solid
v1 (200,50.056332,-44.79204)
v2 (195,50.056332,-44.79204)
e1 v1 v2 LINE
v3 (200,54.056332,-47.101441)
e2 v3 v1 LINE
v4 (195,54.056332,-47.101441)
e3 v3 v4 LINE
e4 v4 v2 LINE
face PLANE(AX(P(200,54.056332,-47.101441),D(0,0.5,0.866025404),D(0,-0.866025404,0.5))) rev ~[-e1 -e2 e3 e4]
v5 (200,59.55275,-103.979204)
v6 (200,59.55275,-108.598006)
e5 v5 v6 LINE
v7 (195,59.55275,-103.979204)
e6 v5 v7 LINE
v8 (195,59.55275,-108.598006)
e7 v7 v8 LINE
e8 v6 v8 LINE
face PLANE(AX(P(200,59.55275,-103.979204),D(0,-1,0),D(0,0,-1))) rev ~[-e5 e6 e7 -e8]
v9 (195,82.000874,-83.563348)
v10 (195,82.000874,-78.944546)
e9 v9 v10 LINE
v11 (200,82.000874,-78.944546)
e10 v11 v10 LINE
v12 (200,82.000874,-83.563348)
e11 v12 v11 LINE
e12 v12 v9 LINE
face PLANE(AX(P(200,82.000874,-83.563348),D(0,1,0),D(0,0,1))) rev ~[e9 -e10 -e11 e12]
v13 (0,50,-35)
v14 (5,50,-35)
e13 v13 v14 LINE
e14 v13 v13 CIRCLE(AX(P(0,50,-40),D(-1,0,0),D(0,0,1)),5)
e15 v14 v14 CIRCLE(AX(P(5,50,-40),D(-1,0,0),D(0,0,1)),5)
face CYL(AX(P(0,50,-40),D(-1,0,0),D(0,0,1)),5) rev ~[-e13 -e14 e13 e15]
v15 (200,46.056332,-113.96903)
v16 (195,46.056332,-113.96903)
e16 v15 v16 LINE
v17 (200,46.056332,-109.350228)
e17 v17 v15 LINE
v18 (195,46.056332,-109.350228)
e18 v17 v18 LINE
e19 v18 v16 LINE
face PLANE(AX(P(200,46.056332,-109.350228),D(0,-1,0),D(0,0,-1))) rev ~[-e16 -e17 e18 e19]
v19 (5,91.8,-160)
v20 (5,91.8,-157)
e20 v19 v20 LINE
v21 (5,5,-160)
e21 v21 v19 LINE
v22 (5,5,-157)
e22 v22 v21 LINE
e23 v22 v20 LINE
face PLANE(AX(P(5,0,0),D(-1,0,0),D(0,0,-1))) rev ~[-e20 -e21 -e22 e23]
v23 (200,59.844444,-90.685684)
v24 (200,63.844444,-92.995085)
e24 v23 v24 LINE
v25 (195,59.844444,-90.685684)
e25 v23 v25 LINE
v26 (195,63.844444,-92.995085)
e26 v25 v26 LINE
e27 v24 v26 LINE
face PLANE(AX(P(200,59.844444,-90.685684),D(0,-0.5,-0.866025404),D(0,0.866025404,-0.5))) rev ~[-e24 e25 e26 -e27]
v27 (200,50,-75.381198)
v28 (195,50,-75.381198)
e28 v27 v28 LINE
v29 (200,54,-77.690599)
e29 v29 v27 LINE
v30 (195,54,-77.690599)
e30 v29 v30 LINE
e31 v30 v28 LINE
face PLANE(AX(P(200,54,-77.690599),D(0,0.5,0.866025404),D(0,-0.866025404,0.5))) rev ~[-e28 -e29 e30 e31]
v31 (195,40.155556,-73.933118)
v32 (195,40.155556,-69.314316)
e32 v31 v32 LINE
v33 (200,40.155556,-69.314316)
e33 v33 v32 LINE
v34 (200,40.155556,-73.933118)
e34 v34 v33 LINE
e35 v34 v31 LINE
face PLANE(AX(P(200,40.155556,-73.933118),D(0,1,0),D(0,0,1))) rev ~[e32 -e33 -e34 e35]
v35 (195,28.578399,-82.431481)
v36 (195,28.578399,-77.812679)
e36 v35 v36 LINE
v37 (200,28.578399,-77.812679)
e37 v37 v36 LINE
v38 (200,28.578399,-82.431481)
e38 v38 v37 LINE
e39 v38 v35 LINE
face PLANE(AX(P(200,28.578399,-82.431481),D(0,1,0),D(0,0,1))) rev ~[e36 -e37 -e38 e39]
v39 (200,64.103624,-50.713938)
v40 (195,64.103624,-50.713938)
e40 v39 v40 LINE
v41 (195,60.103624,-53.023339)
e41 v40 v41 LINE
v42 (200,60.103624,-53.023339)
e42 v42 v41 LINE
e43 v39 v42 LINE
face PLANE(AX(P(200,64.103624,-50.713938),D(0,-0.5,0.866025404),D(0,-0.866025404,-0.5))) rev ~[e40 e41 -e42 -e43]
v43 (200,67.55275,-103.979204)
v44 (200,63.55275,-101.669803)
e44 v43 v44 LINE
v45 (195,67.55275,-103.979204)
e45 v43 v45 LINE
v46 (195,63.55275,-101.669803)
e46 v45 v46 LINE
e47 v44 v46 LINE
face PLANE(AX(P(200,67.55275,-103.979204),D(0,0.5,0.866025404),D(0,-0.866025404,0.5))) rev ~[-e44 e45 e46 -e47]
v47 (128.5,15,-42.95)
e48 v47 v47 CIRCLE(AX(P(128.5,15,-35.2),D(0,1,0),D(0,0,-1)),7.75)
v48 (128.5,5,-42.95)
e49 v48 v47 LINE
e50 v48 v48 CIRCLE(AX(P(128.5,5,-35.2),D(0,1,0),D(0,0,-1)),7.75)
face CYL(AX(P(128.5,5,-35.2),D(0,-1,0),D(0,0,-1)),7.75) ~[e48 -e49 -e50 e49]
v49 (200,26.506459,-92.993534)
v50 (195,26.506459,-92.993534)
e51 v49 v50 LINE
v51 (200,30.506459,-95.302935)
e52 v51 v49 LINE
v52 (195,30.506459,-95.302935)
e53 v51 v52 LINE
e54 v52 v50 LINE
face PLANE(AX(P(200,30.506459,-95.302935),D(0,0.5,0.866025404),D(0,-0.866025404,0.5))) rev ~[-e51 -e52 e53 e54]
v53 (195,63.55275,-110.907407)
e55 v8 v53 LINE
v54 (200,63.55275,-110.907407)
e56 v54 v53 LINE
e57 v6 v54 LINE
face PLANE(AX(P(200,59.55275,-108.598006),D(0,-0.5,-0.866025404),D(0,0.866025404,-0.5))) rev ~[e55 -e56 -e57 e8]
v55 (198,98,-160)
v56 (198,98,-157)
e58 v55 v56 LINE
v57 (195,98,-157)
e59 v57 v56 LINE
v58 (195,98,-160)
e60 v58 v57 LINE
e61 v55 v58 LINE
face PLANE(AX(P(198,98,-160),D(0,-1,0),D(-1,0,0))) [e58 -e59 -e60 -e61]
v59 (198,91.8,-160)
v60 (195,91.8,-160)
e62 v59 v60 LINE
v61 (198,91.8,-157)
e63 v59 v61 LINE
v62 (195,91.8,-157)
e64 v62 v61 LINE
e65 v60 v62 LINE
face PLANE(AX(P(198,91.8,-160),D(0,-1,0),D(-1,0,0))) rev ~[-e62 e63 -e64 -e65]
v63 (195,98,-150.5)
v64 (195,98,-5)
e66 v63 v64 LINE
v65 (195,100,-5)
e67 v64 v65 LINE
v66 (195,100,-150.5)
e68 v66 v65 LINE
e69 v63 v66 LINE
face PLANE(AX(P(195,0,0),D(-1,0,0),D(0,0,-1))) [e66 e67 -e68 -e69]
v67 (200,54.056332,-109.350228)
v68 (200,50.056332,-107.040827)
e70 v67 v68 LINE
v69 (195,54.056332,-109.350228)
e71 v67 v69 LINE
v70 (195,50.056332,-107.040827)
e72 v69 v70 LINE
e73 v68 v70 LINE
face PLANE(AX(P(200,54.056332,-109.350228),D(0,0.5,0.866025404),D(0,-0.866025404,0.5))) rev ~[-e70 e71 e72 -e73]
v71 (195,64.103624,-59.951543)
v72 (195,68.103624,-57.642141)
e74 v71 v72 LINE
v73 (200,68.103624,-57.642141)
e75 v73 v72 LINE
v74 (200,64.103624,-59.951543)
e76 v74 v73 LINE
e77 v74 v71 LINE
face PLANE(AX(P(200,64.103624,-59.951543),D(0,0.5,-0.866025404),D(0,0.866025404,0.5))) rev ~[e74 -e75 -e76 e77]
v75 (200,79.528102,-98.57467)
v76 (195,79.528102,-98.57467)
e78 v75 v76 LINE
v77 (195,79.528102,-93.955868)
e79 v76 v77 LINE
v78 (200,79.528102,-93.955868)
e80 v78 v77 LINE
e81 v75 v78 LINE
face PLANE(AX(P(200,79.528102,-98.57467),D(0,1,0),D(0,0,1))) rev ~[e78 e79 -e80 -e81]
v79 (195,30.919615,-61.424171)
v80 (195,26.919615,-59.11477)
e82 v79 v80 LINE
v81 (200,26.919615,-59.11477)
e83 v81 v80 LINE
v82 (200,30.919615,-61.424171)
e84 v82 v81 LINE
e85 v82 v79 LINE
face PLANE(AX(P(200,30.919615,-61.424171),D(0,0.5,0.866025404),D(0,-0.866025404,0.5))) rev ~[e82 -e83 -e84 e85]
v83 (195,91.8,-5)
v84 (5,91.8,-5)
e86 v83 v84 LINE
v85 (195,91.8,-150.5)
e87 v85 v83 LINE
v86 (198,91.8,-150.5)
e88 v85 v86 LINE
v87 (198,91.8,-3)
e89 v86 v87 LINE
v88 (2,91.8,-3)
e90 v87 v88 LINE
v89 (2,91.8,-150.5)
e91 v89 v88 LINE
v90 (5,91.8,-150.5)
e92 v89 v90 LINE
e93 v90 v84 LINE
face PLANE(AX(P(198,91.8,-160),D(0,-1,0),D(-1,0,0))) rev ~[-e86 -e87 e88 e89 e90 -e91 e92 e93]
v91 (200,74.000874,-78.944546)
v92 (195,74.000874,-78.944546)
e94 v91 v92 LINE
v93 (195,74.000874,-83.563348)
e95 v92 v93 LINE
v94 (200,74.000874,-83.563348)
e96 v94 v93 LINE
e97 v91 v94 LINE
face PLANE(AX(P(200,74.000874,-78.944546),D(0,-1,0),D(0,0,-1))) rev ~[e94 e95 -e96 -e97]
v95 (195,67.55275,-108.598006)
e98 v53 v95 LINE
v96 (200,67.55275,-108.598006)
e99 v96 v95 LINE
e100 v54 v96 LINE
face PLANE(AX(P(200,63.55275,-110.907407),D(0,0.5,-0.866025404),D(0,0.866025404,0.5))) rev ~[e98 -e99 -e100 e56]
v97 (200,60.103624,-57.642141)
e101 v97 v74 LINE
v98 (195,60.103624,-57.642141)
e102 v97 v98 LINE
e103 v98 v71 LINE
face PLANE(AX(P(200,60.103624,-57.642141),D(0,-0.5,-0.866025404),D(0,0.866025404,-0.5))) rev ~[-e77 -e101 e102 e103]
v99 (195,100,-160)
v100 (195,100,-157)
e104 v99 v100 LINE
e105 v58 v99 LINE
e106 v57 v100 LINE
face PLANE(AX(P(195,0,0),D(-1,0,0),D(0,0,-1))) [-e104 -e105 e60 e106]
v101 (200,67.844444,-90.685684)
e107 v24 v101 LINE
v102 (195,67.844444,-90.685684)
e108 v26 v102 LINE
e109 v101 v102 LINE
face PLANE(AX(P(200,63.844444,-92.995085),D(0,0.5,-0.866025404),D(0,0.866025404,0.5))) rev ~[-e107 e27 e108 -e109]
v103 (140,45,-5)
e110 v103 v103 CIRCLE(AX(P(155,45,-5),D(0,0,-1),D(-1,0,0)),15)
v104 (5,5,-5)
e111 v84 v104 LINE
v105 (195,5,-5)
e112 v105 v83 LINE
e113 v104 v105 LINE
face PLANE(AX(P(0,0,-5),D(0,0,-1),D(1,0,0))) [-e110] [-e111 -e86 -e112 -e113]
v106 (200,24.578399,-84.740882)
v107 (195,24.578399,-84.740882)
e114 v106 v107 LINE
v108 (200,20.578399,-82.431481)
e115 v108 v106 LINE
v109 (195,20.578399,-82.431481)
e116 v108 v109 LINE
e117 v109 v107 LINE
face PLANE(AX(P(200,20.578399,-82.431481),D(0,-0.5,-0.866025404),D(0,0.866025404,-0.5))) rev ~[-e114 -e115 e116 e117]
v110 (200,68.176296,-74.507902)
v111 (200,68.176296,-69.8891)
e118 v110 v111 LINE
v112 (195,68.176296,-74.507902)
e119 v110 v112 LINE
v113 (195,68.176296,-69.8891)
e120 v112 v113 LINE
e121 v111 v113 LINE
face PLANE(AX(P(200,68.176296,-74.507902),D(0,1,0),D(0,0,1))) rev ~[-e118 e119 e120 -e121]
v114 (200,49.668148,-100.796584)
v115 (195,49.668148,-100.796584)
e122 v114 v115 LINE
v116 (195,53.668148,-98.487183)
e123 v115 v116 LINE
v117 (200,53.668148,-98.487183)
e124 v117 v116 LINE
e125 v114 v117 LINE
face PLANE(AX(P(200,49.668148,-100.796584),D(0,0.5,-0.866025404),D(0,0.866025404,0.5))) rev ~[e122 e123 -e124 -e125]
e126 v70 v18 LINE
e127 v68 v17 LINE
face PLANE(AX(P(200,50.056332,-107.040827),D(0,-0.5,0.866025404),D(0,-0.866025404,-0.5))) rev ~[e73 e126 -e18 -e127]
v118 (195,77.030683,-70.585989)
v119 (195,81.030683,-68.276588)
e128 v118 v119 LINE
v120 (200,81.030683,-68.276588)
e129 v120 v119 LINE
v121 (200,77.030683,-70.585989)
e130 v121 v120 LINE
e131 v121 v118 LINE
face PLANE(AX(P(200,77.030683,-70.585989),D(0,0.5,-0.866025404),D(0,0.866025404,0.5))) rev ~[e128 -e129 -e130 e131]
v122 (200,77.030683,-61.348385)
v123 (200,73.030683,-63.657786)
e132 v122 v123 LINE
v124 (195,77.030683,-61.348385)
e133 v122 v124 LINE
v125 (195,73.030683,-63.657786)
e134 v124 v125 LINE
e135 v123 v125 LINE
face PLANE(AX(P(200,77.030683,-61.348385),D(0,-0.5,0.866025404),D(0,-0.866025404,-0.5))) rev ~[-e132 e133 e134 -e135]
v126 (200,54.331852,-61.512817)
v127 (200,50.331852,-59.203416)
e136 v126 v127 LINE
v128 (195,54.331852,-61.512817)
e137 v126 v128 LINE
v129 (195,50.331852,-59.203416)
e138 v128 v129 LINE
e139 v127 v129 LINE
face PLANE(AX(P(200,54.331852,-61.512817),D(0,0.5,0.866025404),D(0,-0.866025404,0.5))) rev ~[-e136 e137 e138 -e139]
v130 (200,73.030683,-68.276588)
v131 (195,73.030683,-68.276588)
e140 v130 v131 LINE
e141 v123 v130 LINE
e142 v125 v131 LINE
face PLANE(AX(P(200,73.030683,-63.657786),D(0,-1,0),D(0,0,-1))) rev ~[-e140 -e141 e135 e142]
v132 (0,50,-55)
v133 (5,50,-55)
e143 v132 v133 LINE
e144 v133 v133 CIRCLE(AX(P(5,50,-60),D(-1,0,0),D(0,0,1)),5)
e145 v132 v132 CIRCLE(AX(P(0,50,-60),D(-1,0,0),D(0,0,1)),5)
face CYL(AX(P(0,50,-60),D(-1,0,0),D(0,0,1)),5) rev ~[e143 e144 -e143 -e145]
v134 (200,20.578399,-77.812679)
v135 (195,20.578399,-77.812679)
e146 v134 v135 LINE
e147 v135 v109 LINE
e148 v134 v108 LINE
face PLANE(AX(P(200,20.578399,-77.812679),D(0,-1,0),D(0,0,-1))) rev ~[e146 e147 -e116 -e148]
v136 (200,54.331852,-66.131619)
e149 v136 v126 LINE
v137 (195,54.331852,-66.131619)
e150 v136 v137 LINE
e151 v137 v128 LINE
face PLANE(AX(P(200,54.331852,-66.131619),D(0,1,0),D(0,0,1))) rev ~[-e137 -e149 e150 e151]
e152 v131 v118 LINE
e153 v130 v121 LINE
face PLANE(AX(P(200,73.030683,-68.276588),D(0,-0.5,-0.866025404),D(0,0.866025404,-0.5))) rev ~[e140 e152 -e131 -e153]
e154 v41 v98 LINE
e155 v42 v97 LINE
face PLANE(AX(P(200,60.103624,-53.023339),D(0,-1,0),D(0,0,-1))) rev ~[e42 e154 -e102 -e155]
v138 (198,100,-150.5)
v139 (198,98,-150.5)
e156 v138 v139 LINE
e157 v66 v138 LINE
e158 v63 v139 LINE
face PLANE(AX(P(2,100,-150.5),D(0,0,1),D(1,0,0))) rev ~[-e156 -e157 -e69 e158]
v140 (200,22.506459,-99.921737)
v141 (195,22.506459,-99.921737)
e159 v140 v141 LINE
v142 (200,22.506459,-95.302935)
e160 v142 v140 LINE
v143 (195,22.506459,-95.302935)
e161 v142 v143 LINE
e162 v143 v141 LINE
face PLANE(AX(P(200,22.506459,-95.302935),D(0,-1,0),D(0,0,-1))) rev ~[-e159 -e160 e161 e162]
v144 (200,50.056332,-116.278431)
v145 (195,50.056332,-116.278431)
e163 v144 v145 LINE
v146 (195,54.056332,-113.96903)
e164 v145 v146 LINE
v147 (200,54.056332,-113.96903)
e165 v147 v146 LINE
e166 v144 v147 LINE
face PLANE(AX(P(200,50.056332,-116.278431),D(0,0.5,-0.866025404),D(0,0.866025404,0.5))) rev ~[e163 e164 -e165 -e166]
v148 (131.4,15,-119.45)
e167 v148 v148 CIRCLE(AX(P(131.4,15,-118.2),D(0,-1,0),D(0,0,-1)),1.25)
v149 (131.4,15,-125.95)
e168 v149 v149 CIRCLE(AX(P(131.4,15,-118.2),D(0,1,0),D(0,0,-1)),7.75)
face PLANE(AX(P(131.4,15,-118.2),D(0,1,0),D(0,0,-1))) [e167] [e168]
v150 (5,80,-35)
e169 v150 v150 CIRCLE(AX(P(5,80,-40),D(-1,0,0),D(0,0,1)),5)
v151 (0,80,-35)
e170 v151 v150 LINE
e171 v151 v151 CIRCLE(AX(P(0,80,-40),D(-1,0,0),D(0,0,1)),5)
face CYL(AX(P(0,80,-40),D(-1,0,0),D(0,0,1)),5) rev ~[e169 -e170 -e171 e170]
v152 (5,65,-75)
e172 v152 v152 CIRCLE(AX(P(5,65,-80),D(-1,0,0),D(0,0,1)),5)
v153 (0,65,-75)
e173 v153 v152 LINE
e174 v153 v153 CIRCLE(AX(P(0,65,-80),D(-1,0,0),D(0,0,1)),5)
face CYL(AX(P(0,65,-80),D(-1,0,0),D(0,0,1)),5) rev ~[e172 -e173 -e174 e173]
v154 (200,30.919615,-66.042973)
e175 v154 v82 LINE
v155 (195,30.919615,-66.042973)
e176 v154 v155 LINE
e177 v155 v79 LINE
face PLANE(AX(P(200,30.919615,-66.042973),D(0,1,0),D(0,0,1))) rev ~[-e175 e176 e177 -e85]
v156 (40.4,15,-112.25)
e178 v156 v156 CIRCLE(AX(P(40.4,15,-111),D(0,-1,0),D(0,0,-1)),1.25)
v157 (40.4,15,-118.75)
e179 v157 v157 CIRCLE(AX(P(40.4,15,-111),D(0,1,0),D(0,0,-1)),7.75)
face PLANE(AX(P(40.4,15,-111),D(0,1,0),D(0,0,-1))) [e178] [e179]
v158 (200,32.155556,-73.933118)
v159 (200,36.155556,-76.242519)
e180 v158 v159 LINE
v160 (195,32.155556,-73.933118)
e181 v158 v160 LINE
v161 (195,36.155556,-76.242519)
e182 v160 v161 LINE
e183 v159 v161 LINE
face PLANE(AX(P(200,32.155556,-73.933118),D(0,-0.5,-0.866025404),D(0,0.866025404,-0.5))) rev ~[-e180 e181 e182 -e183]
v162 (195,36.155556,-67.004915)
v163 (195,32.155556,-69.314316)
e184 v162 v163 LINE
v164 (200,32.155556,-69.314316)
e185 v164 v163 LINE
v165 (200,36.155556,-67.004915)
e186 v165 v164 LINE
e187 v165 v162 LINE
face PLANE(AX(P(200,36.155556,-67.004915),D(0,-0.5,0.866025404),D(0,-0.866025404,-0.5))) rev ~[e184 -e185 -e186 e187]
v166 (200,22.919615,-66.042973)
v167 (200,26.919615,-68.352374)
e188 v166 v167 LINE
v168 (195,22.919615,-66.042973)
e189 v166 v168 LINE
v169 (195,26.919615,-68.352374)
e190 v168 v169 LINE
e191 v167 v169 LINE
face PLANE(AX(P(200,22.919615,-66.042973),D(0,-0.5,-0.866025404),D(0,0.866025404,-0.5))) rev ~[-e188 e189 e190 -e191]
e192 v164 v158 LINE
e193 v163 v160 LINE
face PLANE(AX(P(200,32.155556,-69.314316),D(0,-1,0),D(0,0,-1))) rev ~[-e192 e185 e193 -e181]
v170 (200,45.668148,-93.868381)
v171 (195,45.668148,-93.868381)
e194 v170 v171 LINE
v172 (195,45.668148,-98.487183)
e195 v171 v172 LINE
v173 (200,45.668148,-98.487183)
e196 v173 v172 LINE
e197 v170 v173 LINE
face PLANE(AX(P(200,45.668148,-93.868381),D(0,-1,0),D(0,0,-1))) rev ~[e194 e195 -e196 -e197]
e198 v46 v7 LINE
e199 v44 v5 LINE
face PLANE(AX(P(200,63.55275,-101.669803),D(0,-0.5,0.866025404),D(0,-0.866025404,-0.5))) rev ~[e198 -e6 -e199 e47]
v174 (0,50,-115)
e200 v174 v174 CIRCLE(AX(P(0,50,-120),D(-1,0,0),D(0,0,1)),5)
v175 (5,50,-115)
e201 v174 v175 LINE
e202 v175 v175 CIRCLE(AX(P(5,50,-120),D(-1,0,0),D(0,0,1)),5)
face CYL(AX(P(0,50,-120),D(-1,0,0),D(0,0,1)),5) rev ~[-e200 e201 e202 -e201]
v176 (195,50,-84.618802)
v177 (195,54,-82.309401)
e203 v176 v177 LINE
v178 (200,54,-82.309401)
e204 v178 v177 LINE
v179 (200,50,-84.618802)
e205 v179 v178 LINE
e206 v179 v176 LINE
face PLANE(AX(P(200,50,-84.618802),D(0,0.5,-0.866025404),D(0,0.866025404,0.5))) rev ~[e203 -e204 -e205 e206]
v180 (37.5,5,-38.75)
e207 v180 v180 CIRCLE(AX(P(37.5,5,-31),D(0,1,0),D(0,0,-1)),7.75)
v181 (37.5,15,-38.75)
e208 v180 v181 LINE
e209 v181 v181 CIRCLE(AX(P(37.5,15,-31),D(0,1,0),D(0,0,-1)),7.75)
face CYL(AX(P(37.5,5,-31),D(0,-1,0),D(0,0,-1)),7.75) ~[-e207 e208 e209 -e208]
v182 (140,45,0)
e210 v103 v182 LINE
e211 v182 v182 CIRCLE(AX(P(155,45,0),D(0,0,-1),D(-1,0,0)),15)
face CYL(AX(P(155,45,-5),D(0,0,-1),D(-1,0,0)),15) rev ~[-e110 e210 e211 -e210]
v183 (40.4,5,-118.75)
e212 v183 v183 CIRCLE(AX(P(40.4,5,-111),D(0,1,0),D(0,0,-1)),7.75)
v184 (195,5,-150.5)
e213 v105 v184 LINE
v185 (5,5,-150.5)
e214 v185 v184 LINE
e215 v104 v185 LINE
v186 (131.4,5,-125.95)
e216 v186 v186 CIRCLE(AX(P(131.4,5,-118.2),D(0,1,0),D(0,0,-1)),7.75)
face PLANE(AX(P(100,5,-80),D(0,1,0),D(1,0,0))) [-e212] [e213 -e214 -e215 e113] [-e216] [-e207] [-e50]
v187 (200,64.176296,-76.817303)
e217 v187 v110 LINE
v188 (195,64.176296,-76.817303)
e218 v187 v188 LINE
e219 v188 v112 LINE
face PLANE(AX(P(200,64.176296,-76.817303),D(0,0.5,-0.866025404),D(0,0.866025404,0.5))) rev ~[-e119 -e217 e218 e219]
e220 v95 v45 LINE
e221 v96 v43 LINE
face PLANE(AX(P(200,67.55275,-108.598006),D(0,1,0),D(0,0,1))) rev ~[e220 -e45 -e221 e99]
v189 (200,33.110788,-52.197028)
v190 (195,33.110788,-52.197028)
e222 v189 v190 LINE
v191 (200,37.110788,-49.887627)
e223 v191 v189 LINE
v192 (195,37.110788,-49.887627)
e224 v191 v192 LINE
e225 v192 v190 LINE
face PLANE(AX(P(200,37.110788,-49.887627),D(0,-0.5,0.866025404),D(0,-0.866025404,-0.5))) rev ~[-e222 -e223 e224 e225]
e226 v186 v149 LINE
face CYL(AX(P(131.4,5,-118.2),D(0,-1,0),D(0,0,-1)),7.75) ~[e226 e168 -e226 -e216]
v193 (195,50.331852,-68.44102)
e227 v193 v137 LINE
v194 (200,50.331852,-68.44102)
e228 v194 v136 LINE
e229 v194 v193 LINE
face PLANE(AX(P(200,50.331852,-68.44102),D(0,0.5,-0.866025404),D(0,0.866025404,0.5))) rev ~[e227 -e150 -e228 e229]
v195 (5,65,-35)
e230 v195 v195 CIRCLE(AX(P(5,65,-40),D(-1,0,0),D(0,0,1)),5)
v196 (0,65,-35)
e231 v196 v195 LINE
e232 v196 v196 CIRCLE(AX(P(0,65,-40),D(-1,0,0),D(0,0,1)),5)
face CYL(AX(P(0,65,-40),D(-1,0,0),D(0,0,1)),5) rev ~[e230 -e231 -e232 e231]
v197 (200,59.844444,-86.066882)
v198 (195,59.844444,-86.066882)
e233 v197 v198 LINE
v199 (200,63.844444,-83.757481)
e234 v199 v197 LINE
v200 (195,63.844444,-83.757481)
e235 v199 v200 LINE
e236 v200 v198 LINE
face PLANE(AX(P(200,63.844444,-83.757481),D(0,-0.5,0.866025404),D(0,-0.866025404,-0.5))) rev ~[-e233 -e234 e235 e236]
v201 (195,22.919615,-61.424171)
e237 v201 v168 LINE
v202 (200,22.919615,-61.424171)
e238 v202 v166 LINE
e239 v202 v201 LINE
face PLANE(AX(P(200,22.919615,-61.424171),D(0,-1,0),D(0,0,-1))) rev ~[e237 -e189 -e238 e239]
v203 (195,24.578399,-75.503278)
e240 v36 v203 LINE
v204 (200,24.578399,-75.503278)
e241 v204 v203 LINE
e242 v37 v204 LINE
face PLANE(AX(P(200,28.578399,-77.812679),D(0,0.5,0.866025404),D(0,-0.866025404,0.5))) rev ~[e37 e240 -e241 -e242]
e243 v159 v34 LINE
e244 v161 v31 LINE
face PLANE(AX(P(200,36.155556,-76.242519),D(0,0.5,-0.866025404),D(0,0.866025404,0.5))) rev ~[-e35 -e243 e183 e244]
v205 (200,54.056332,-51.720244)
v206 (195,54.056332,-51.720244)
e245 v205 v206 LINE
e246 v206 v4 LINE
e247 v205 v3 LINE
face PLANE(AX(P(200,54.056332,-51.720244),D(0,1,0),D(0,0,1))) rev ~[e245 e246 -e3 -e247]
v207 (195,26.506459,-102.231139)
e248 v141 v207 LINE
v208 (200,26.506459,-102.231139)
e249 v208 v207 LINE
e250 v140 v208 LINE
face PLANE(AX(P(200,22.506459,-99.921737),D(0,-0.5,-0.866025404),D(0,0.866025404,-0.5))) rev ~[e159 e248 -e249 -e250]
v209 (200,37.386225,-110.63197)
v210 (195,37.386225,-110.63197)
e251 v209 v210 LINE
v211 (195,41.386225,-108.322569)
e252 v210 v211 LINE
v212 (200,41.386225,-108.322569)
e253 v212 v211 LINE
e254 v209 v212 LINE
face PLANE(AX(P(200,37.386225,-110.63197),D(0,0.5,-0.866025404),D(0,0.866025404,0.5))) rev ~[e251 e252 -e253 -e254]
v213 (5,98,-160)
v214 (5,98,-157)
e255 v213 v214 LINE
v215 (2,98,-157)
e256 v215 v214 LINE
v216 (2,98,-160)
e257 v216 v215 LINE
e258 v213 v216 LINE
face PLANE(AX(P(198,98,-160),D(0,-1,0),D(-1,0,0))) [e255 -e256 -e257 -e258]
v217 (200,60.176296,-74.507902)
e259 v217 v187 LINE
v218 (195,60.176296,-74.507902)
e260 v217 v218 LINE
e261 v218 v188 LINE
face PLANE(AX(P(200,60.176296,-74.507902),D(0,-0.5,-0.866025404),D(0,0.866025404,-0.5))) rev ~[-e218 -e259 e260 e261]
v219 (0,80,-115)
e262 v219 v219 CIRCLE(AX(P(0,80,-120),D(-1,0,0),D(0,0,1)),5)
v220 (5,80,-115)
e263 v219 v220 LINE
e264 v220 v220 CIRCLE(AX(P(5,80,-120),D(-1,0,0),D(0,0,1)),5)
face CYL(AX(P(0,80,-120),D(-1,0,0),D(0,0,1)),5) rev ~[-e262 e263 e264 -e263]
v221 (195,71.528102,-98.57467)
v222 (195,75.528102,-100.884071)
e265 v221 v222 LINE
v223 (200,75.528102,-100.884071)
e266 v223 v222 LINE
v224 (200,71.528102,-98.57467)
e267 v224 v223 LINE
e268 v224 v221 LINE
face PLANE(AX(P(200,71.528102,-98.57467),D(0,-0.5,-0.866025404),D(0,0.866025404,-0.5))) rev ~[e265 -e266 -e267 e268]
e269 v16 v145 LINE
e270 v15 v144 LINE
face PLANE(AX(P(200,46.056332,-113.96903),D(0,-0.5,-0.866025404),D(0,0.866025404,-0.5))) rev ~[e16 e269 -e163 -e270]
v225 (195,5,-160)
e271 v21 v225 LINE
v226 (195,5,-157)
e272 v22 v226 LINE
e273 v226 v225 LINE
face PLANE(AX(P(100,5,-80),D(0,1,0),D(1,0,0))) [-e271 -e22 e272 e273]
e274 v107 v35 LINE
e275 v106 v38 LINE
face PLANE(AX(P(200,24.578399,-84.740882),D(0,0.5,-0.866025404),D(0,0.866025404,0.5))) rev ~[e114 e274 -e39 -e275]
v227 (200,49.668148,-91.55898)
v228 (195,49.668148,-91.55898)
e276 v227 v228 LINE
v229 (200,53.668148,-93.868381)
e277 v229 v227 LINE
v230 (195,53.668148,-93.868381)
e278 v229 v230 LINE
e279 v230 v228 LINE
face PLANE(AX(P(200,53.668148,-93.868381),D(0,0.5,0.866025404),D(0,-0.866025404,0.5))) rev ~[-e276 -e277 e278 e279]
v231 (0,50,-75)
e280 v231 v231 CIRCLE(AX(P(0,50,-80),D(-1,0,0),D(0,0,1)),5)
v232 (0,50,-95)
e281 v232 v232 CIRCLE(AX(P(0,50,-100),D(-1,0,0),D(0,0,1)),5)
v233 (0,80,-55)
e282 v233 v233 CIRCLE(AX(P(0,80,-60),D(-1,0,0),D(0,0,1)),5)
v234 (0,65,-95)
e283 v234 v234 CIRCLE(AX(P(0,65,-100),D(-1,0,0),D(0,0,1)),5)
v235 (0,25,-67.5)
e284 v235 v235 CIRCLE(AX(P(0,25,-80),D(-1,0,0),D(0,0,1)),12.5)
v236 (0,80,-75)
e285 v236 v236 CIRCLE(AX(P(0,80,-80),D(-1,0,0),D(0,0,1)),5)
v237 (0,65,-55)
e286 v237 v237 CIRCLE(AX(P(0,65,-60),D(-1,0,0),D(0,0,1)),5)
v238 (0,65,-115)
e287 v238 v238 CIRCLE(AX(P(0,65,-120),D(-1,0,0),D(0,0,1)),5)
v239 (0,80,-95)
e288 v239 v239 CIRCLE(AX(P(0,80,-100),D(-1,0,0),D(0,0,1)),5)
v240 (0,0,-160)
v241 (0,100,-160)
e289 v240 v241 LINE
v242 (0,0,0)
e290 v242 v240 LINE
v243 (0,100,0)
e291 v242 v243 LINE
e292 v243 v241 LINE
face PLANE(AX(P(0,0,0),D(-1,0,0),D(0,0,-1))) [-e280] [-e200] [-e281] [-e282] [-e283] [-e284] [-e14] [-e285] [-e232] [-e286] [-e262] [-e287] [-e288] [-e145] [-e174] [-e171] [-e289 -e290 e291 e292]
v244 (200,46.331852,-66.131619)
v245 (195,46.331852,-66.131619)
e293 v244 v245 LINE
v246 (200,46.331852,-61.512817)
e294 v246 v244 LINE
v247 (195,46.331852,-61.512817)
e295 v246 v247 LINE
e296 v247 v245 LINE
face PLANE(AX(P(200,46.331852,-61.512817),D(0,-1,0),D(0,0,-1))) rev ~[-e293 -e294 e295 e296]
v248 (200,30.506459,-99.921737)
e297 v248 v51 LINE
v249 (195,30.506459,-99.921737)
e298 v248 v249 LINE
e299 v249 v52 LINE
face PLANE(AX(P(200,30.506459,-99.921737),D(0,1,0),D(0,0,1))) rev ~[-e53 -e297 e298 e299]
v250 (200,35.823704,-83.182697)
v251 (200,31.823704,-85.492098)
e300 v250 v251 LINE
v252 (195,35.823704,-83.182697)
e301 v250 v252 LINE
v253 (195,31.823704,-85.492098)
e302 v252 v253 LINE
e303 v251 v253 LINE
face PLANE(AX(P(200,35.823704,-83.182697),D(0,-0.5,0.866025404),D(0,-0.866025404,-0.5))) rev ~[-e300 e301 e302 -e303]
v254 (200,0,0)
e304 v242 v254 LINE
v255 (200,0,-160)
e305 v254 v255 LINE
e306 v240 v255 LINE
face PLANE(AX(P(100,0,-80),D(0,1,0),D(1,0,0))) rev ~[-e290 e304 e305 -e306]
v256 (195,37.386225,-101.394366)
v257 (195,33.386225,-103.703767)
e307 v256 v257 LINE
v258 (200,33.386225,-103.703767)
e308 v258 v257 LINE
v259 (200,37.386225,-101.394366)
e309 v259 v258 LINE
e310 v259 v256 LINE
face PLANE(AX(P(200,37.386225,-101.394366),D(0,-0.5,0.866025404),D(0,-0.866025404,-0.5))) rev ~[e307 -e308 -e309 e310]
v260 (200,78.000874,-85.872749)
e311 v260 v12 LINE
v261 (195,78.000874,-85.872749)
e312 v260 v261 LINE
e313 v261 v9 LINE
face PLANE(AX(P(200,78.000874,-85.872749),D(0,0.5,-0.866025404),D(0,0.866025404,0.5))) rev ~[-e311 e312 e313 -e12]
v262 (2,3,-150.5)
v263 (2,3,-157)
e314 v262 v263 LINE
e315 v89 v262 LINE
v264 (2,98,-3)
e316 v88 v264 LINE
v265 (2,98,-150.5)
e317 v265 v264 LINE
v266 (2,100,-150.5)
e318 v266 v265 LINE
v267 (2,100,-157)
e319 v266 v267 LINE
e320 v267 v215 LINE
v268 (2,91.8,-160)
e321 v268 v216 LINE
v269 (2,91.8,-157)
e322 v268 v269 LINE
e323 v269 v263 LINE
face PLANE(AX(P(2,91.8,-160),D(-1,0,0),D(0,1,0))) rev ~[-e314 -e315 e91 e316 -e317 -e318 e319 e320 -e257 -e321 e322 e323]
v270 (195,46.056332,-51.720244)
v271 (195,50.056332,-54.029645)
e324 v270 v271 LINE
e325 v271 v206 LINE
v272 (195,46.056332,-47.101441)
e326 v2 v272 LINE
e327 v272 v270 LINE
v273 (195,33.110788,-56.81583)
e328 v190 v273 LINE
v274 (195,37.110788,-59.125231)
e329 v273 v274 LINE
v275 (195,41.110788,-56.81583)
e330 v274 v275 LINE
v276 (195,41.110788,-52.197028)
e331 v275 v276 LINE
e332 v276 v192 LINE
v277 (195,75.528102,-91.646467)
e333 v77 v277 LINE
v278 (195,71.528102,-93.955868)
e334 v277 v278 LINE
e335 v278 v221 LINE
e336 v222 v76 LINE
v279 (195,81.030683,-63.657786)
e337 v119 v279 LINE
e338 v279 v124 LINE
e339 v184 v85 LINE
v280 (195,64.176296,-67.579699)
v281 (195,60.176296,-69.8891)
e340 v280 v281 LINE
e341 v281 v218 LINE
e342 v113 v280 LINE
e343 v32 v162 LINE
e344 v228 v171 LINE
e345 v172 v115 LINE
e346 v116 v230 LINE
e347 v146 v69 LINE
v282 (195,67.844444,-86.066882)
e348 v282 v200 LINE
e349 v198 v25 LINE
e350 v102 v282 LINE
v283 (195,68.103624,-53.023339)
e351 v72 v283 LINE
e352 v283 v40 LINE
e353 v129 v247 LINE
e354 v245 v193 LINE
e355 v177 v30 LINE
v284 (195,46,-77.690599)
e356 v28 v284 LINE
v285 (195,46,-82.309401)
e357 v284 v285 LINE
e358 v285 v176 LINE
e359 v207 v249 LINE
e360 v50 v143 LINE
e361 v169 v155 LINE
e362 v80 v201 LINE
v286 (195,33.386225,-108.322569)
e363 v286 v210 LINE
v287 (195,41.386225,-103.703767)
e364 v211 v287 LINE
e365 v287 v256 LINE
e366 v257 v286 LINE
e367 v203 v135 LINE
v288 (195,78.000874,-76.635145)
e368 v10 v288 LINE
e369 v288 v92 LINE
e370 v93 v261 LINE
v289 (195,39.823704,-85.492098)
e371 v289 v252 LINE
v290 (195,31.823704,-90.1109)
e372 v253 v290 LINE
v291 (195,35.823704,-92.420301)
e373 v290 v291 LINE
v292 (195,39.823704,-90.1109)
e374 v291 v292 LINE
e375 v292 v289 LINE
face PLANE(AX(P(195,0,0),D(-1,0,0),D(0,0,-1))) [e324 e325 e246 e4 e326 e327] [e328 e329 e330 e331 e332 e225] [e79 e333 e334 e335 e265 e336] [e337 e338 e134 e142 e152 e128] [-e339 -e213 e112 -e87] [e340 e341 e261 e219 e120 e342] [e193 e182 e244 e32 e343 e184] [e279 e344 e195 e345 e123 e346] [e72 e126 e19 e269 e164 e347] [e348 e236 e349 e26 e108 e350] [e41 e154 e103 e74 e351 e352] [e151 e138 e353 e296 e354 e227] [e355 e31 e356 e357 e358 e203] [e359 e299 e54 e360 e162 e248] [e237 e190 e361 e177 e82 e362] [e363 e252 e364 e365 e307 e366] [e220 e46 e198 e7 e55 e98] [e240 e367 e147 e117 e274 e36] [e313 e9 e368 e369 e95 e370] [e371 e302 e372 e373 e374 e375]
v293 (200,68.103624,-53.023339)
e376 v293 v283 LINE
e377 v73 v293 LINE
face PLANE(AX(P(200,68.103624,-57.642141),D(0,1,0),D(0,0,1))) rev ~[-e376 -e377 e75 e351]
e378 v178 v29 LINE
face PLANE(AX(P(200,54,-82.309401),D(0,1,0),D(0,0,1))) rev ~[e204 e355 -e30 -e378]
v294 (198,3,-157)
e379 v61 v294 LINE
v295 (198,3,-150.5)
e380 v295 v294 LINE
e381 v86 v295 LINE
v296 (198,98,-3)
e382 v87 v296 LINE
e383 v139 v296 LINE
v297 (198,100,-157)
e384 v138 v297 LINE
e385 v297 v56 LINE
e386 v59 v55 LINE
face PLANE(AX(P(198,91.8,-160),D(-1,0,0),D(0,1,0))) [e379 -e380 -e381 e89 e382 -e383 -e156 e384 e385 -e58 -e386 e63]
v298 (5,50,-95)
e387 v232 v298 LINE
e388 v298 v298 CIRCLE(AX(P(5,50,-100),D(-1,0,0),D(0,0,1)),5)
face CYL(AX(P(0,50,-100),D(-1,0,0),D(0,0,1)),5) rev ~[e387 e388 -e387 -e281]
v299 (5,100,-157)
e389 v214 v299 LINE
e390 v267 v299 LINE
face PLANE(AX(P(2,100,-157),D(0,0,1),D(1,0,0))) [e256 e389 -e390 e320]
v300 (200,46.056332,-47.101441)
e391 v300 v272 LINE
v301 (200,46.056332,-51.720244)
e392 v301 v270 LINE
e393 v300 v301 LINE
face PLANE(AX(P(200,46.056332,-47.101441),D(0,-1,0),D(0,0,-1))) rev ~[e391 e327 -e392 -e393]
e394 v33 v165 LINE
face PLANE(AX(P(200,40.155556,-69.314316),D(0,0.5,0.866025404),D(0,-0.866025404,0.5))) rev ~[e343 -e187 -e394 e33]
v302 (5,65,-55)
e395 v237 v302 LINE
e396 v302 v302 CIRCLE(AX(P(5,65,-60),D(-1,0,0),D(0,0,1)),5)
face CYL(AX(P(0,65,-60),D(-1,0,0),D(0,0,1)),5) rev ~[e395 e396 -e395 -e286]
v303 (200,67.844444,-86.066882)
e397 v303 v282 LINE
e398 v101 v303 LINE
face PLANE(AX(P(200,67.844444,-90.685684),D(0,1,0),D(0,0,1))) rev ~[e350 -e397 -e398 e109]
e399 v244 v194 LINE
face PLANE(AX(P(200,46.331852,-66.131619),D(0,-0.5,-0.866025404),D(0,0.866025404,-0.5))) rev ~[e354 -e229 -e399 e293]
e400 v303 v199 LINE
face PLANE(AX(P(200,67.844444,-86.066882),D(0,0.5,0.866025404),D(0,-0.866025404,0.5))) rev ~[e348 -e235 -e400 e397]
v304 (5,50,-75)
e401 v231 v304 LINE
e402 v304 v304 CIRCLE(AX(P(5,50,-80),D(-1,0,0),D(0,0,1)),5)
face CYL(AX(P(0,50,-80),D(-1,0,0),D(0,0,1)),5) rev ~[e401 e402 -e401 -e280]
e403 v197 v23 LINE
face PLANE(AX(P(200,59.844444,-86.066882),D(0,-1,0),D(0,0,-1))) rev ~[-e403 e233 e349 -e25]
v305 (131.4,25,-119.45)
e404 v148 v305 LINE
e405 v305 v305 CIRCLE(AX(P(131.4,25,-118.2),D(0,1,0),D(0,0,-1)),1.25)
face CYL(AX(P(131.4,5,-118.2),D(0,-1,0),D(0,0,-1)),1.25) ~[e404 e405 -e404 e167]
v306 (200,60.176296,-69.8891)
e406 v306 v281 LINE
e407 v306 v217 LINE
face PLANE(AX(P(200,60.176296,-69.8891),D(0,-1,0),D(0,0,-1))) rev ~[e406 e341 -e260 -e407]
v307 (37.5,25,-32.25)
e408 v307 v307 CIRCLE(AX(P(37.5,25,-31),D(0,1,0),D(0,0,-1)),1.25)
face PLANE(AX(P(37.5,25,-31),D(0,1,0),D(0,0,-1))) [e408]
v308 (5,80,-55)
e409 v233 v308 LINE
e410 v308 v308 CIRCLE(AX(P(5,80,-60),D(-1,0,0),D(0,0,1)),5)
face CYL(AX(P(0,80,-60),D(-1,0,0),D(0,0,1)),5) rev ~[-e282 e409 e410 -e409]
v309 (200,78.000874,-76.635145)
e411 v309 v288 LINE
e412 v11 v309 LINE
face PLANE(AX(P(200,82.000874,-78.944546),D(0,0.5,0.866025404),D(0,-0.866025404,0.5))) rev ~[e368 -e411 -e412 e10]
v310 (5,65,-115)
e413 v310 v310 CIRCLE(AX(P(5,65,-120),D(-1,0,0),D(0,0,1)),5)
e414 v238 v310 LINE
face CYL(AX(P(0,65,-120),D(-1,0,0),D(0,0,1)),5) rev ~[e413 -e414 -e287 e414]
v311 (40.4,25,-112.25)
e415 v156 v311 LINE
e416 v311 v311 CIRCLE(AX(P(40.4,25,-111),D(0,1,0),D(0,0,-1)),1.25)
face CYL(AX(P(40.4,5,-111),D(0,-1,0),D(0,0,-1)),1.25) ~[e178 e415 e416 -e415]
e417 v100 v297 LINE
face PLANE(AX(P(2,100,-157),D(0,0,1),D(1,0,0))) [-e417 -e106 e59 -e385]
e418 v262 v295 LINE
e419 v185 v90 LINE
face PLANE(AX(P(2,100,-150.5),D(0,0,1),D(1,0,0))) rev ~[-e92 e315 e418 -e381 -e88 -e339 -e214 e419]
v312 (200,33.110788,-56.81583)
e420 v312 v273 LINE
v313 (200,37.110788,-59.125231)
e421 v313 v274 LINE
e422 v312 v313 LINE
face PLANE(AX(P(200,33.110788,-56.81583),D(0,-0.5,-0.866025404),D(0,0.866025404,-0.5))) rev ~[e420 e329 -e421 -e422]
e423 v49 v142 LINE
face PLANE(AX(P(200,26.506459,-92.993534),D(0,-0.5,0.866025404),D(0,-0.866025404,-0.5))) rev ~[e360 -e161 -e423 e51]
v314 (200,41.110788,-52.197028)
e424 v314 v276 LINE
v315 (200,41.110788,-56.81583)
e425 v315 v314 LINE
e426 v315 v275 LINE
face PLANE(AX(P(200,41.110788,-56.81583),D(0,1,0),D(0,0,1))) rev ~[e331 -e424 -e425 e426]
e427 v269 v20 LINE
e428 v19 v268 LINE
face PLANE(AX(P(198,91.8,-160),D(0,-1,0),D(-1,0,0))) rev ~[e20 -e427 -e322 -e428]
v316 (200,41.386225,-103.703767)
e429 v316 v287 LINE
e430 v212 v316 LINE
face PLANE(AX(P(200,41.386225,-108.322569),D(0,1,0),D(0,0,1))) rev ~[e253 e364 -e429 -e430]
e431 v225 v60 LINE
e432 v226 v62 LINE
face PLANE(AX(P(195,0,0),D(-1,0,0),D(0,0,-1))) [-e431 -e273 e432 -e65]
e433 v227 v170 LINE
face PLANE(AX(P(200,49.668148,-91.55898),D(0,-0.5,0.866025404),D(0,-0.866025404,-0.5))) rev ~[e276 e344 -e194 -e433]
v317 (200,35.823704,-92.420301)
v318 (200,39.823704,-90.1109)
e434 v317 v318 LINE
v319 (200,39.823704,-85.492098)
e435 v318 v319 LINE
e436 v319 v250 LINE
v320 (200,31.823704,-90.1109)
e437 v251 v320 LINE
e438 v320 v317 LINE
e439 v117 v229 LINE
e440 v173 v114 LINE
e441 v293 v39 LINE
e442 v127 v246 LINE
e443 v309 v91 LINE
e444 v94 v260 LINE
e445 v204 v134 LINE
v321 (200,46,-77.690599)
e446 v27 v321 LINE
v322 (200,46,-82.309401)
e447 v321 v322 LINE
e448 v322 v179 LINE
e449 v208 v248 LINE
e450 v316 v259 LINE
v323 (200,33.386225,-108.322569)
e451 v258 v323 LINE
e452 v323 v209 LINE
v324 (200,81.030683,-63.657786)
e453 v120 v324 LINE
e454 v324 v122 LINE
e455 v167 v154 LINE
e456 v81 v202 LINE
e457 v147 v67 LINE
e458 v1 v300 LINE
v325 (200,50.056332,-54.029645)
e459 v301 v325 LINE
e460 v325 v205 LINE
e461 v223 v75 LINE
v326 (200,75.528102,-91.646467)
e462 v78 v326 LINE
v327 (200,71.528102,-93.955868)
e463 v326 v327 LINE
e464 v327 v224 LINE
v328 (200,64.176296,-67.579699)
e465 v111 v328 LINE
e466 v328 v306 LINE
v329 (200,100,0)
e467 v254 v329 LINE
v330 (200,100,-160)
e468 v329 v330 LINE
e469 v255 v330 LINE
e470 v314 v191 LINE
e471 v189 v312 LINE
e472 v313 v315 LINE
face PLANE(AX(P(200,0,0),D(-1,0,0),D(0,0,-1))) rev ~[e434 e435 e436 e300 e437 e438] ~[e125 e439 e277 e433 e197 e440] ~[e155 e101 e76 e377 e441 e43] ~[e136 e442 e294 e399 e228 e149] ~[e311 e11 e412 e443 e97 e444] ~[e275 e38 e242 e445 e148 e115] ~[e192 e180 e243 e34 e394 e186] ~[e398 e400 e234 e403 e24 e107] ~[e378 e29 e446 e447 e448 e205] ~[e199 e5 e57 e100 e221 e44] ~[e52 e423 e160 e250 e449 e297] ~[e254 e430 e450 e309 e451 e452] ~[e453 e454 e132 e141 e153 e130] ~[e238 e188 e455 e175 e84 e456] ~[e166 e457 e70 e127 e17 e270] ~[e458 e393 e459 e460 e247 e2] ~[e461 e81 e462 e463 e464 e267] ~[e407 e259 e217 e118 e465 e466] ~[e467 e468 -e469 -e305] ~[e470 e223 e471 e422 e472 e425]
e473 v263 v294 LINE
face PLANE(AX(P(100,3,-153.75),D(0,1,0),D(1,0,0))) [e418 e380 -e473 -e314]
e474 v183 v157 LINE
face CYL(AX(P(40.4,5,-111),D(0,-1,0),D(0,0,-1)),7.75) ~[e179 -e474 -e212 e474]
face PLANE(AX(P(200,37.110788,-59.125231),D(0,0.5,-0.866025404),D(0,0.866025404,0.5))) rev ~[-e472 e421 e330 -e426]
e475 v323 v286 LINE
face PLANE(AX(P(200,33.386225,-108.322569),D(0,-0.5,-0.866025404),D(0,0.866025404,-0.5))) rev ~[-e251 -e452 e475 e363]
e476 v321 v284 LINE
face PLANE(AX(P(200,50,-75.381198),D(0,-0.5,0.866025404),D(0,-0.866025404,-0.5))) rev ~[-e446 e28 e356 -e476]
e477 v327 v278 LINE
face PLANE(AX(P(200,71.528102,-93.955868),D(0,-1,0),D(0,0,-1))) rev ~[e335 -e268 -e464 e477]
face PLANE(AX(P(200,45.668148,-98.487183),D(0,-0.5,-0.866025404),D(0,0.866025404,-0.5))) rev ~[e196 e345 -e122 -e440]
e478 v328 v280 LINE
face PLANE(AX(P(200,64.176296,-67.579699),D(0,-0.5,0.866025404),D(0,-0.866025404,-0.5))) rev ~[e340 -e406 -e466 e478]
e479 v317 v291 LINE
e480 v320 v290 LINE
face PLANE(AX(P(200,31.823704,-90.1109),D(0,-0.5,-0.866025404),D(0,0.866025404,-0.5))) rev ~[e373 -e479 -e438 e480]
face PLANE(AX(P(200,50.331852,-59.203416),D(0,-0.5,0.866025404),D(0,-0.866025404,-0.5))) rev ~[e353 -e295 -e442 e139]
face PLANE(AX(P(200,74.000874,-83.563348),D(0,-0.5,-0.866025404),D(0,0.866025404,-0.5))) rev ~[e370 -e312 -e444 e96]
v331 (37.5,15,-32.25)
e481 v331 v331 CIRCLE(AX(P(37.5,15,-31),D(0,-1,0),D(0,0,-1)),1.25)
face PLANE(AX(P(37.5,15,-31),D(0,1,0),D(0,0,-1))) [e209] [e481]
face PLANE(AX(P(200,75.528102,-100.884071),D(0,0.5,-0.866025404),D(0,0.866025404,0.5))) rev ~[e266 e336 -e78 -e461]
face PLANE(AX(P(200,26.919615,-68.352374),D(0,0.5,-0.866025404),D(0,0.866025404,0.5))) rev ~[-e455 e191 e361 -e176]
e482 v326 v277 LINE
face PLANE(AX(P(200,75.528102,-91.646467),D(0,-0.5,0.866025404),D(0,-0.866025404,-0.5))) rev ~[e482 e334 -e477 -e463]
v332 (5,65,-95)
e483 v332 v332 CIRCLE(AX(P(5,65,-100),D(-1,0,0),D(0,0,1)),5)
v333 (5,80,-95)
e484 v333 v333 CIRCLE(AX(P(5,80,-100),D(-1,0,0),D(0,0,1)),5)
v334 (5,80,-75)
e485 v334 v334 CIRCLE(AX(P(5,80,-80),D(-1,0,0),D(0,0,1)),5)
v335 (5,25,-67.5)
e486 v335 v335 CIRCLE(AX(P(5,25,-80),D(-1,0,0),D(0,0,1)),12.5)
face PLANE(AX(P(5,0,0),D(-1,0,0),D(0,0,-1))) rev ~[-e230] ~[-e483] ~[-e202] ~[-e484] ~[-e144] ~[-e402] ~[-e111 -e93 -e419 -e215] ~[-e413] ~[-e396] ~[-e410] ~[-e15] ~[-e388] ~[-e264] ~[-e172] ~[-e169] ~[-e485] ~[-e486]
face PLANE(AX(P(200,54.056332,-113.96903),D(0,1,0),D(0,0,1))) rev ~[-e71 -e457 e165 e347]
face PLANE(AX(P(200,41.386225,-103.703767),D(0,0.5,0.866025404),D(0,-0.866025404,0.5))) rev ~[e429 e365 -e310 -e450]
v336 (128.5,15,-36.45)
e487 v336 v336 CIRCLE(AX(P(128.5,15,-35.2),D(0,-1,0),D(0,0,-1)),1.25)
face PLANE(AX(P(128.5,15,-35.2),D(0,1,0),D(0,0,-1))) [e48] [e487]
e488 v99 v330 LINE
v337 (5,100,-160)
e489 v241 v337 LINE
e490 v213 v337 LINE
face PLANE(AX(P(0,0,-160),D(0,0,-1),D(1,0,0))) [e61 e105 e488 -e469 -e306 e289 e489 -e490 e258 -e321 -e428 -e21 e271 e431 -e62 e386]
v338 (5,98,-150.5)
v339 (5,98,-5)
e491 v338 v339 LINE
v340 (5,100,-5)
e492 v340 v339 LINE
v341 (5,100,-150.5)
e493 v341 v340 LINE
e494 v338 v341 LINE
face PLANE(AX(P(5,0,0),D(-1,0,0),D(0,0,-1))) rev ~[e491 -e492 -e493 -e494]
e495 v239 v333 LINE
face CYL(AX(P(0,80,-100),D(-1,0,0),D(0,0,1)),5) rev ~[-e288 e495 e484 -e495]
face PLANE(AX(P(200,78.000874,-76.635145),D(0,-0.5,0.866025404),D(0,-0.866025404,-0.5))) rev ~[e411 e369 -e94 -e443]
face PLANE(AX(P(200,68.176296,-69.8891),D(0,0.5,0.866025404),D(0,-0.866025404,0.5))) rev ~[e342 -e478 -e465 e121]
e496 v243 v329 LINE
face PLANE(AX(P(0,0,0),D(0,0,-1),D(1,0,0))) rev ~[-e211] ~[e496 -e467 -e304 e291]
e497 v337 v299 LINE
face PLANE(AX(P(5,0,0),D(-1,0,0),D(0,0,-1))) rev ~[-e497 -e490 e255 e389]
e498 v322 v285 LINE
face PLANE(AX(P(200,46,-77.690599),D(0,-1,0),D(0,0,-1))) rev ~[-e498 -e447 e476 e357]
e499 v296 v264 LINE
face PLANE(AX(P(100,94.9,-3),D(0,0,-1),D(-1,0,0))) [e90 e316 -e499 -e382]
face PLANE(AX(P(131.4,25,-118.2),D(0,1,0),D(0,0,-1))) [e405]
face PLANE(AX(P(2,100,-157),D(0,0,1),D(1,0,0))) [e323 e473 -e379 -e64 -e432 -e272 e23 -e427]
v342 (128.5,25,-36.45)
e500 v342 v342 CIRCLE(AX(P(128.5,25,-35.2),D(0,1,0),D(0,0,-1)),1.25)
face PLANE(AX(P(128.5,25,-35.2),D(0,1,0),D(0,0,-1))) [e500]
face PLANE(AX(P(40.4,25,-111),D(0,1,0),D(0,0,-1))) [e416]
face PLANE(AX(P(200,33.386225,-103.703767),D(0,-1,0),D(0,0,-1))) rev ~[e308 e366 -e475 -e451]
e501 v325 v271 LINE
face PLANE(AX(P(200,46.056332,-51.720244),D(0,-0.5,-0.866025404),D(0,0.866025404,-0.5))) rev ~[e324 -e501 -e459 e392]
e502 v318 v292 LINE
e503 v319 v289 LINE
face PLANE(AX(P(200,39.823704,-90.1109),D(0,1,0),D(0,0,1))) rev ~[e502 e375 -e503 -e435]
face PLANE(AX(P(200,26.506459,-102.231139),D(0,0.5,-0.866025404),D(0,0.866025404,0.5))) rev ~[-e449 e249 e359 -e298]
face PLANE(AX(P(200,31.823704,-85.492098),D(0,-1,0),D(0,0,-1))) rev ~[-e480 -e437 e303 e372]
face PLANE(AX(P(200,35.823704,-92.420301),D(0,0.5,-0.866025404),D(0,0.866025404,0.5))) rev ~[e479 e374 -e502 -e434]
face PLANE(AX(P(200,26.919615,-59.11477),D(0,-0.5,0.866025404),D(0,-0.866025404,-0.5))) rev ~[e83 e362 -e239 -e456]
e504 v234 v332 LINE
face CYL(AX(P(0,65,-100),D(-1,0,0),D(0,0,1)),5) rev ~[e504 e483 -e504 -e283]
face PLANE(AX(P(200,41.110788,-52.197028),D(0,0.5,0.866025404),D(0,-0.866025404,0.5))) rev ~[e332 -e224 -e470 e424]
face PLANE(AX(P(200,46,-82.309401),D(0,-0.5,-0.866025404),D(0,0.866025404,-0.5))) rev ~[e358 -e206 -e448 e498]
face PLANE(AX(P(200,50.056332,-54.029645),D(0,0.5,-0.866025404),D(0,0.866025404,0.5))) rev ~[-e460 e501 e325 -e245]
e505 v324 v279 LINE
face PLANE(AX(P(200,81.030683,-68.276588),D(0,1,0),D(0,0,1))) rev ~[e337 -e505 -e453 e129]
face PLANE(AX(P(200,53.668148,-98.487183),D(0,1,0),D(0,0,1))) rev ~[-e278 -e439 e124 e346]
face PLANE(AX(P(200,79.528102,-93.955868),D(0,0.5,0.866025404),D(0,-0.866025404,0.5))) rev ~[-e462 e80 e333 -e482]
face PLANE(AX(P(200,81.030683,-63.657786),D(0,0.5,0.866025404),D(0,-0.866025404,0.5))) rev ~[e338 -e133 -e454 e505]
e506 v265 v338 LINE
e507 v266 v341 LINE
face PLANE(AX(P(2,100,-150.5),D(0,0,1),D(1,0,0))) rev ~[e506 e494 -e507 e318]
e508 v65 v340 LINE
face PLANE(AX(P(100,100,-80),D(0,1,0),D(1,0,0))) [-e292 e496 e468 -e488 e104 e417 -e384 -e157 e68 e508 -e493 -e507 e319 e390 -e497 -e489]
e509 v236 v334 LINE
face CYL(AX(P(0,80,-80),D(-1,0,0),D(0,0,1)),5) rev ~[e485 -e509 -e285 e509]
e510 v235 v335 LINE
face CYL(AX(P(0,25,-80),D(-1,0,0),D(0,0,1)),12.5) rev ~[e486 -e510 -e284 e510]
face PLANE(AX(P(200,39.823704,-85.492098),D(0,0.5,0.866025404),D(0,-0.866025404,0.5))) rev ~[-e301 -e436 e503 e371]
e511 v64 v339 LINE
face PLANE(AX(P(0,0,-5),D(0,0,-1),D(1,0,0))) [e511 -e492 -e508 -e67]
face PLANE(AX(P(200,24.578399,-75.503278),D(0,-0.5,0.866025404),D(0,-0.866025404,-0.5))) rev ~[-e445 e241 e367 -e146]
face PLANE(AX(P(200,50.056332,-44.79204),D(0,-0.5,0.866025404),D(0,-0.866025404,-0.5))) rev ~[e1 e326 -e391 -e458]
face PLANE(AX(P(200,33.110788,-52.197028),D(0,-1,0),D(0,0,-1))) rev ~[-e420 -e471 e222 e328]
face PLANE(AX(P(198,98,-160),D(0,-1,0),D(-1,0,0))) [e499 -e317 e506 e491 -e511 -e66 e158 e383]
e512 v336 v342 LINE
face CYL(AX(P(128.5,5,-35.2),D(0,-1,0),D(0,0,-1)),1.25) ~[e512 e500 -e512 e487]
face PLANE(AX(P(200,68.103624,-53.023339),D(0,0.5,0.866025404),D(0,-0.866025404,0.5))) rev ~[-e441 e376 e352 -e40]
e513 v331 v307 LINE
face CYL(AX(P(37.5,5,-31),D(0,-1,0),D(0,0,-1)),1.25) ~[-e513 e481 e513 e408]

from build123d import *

# Parameters (mm, degrees)
SKETCH1_W           = 200
SKETCH1_H           = 160
BOSS_EXTRUDE1_DEPTH = 100
SHELL2_T            = -5
SKETCH2_W           = 196
SKETCH2_H           = 6.5
CUT_EXTRUDE1_DEPTH  = 97
SKETCH3_W           = 196
SKETCH3_H           = 6.2
CUT_EXTRUDE2_DEPTH  = 157
SKETCH4_R           = 15
CUT_EXTRUDE3_DEPTH  = 273.075357208
CUT_EXTRUDE4_DEPTH  = 5
SKETCH6_R           = 1.25
BOSS_EXTRUDE2_DEPTH = 20
SKETCH7_R           = 7.75
SKETCH7_R_2         = 1.25
BOSS_EXTRUDE3_DEPTH = 10
SKETCH8_R           = 12.5
SKETCH8_R_2         = 5
CUT_EXTRUDE5_DEPTH  = 5


with BuildPart() as part:
    # Sketch1 → Boss-Extrude1 (new body)
    with BuildSketch(Plane(origin=(0, 0, 0), x_dir=(1, 0, 0), z_dir=(0, 1, 0))):
        with Locations((100, 80)):
            Rectangle(SKETCH1_W, SKETCH1_H)
    extrude(amount=BOSS_EXTRUDE1_DEPTH)

    # Shell2
    shell2_openings = [part.faces().sort_by_distance(p)[0] for p in [
        (100, 100, -80),
        (100, 50, -160),
    ]]
    offset(amount=SHELL2_T, openings=shell2_openings, kind=Kind.INTERSECTION)

    # Sketch2 → Cut-Extrude1 (cut)
    with BuildSketch(Plane(origin=(0, 100, 0), x_dir=(1, 0, 0), z_dir=(0, 1, 0))):
        with Locations((100, 153.75)):
            Rectangle(SKETCH2_W, SKETCH2_H)
    extrude(amount=-CUT_EXTRUDE1_DEPTH, mode=Mode.SUBTRACT)

    # Sketch3 → Cut-Extrude2 (cut)
    with BuildSketch(Plane(origin=(0, 0, -160), x_dir=(-1, 0, 0), z_dir=(0, 0, -1))):
        with Locations((-100, 94.9)):
            Rectangle(SKETCH3_W, SKETCH3_H)
    extrude(amount=-CUT_EXTRUDE2_DEPTH, mode=Mode.SUBTRACT)

    # Sketch4 → Cut-Extrude3 (cut, through all)
    with BuildSketch(Plane(origin=(0, 0, -5), x_dir=(-1, 0, 0), z_dir=(0, 0, -1))):
        with Locations((-155, 45)):
            Circle(SKETCH4_R)
    extrude(amount=-CUT_EXTRUDE3_DEPTH, mode=Mode.SUBTRACT)

    # Sketch5 → Cut-Extrude4 (cut)
    with BuildSketch(Plane(origin=(200, 0, 0), x_dir=(0, 0, -1), z_dir=(1, 0, 0))):
        Polygon((68.441020245, 50.331851937), (66.131619168, 54.331851937), (61.512817015, 54.331851937), (59.203415938, 50.331851937), (61.512817015, 46.331851937), (66.131619168, 46.331851937), align=None)
        Polygon((84.618802154, 50), (82.309401077, 54), (77.690598923, 54), (75.381197846, 50), (77.690598923, 46), (82.309401077, 46), align=None)
        Polygon((74.50790233, 60.176296078), (76.817303407, 64.176296078), (74.50790233, 68.176296078), (69.889100176, 68.176296078), (67.5796991, 64.176296078), (69.889100176, 60.176296078), align=None)
        Polygon((86.066882085, 59.844444141), (90.685684238, 59.844444141), (92.995085315, 63.844444141), (90.685684238, 67.844444141), (86.066882085, 67.844444141), (83.757481008, 63.844444141), align=None)
        Polygon((91.558979755, 49.668148063), (93.868380832, 45.668148063), (98.487182985, 45.668148063), (100.796584062, 49.668148063), (98.487182985, 53.668148063), (93.868380832, 53.668148063), align=None)
        Polygon((85.49209767, 39.823703922), (83.182696593, 35.823703922), (85.49209767, 31.823703922), (90.110899824, 31.823703922), (92.4203009, 35.823703922), (90.110899824, 39.823703922), align=None)
        Polygon((73.933117915, 40.155555859), (69.314315762, 40.155555859), (67.004914685, 36.155555859), (69.314315762, 32.155555859), (73.933117915, 32.155555859), (76.242518992, 36.155555859), align=None)
        Polygon((57.642141445, 60.103624342), (59.951542522, 64.103624342), (57.642141445, 68.103624342), (53.023339291, 68.103624342), (50.713938215, 64.103624342), (53.023339291, 60.103624342), align=None)
        Polygon((51.720243637, 46.056331866), (54.029644713, 50.056331866), (51.720243637, 54.056331866), (47.101441483, 54.056331866), (44.792040406, 50.056331866), (47.101441483, 46.056331866), align=None)
        Polygon((56.815830123, 33.11078782), (59.1252312, 37.11078782), (56.815830123, 41.11078782), (52.197027969, 41.11078782), (49.887626893, 37.11078782), (52.197027969, 33.11078782), align=None)
        Polygon((66.04297322, 22.919614847), (68.352374296, 26.919614847), (66.04297322, 30.919614847), (61.424171066, 30.919614847), (59.114769989, 26.919614847), (61.424171066, 22.919614847), align=None)
        Polygon((82.431481108, 20.578399435), (84.740882185, 24.578399435), (82.431481108, 28.578399435), (77.812678954, 28.578399435), (75.503277878, 24.578399435), (77.812678954, 20.578399435), align=None)
        Polygon((99.921737426, 22.506459186), (102.231138502, 26.506459186), (99.921737426, 30.506459186), (95.302935272, 30.506459186), (92.993534195, 26.506459186), (95.302935272, 22.506459186), align=None)
        Polygon((108.3225692, 33.386224927), (110.631970277, 37.386224927), (108.3225692, 41.386224927), (103.703767047, 41.386224927), (101.39436597, 37.386224927), (103.703767047, 33.386224927), align=None)
        Polygon((113.969029901, 46.056331866), (116.278430978, 50.056331866), (113.969029901, 54.056331866), (109.350227748, 54.056331866), (107.040826671, 50.056331866), (109.350227748, 46.056331866), align=None)
        Polygon((108.598006308, 59.552750127), (110.907407385, 63.552750127), (108.598006308, 67.552750127), (103.979204154, 67.552750127), (101.669803077, 63.552750127), (103.979204154, 59.552750127), align=None)
        Polygon((98.574670101, 71.528102354), (100.884071178, 75.528102354), (98.574670101, 79.528102354), (93.955867948, 79.528102354), (91.646466871, 75.528102354), (93.955867948, 71.528102354), align=None)
        Polygon((83.56334775, 74.000874378), (85.872748827, 78.000874378), (83.56334775, 82.000874378), (78.944545596, 82.000874378), (76.63514452, 78.000874378), (78.944545596, 74.000874378), align=None)
        Polygon((68.276588291, 73.030682559), (70.585989368, 77.030682559), (68.276588291, 81.030682559), (63.657786138, 81.030682559), (61.348385061, 77.030682559), (63.657786138, 73.030682559), align=None)
    extrude(amount=-CUT_EXTRUDE4_DEPTH, mode=Mode.SUBTRACT)

    # Sketch6 → Boss-Extrude2 (add)
    with BuildSketch(Plane(origin=(0, 5, 0), x_dir=(1, 0, 0), z_dir=(0, 1, 0))):
        with Locations(Location((128.5, 35.2, 0), (0, 0, 90))):
            Circle(SKETCH6_R)
        with Locations(Location((131.4, 118.2, 0), (0, 0, 90))):
            Circle(SKETCH6_R)
        with Locations(Location((37.5, 31, 0), (0, 0, 90))):
            Circle(SKETCH6_R)
        with Locations(Location((40.4, 111, 0), (0, 0, 90))):
            Circle(SKETCH6_R)
    extrude(amount=BOSS_EXTRUDE2_DEPTH)

    # Sketch7 → Boss-Extrude3 (add)
    # profile 1 of 4: a face of its own
    with BuildSketch(Plane(origin=(0, 5, 0), x_dir=(1, 0, 0), z_dir=(0, 1, 0))):
        with Locations(Location((131.4, 118.2, 0), (0, 0, 90))):
            Circle(SKETCH7_R)
        with Locations(Location((131.4, 118.2, 0), (0, 0, 270))):
            Circle(SKETCH7_R_2, mode=Mode.SUBTRACT)
    # profile 2 of 4: a face of its own
    with BuildSketch(Plane(origin=(0, 5, 0), x_dir=(1, 0, 0), z_dir=(0, 1, 0))):
        with Locations(Location((40.4, 111, 0), (0, 0, 90))):
            Circle(SKETCH7_R)
        with Locations(Location((40.4, 111, 0), (0, 0, 270))):
            Circle(SKETCH7_R_2, mode=Mode.SUBTRACT)
    # profile 3 of 4: a face of its own
    with BuildSketch(Plane(origin=(0, 5, 0), x_dir=(1, 0, 0), z_dir=(0, 1, 0))):
        with Locations(Location((128.5, 35.2, 0), (0, 0, 90))):
            Circle(SKETCH7_R)
        with Locations(Location((128.5, 35.2, 0), (0, 0, 270))):
            Circle(SKETCH7_R_2, mode=Mode.SUBTRACT)
    # profile 4 of 4: a face of its own
    with BuildSketch(Plane(origin=(0, 5, 0), x_dir=(1, 0, 0), z_dir=(0, 1, 0))):
        with Locations(Location((37.5, 31, 0), (0, 0, 90))):
            Circle(SKETCH7_R)
        with Locations(Location((37.5, 31, 0), (0, 0, 270))):
            Circle(SKETCH7_R_2, mode=Mode.SUBTRACT)
    extrude(amount=BOSS_EXTRUDE3_DEPTH)

    # Sketch8 → Cut-Extrude5 (cut)
    with BuildSketch(Plane.ZY):
        with Locations((-80, 25)):
            Circle(SKETCH8_R)
        with Locations((-80, 50)):
            Circle(SKETCH8_R_2)
        with Locations((-60, 50)):
            Circle(SKETCH8_R_2)
        with Locations((-40, 50)):
            Circle(SKETCH8_R_2)
        with Locations((-60, 65)):
            Circle(SKETCH8_R_2)
        with Locations((-40, 65)):
            Circle(SKETCH8_R_2)
        with Locations((-60, 80)):
            Circle(SKETCH8_R_2)
        with Locations((-40, 80)):
            Circle(SKETCH8_R_2)
        with Locations((-80, 65)):
            Circle(SKETCH8_R_2)
        with Locations((-80, 80)):
            Circle(SKETCH8_R_2)
        with Locations((-120, 50)):
            Circle(SKETCH8_R_2)
        with Locations((-100, 50)):
            Circle(SKETCH8_R_2)
        with Locations((-120, 65)):
            Circle(SKETCH8_R_2)
        with Locations((-100, 65)):
            Circle(SKETCH8_R_2)
        with Locations((-120, 80)):
            Circle(SKETCH8_R_2)
        with Locations((-100, 80)):
            Circle(SKETCH8_R_2)
    extrude(amount=-CUT_EXTRUDE5_DEPTH, mode=Mode.SUBTRACT)


solid = part.part
